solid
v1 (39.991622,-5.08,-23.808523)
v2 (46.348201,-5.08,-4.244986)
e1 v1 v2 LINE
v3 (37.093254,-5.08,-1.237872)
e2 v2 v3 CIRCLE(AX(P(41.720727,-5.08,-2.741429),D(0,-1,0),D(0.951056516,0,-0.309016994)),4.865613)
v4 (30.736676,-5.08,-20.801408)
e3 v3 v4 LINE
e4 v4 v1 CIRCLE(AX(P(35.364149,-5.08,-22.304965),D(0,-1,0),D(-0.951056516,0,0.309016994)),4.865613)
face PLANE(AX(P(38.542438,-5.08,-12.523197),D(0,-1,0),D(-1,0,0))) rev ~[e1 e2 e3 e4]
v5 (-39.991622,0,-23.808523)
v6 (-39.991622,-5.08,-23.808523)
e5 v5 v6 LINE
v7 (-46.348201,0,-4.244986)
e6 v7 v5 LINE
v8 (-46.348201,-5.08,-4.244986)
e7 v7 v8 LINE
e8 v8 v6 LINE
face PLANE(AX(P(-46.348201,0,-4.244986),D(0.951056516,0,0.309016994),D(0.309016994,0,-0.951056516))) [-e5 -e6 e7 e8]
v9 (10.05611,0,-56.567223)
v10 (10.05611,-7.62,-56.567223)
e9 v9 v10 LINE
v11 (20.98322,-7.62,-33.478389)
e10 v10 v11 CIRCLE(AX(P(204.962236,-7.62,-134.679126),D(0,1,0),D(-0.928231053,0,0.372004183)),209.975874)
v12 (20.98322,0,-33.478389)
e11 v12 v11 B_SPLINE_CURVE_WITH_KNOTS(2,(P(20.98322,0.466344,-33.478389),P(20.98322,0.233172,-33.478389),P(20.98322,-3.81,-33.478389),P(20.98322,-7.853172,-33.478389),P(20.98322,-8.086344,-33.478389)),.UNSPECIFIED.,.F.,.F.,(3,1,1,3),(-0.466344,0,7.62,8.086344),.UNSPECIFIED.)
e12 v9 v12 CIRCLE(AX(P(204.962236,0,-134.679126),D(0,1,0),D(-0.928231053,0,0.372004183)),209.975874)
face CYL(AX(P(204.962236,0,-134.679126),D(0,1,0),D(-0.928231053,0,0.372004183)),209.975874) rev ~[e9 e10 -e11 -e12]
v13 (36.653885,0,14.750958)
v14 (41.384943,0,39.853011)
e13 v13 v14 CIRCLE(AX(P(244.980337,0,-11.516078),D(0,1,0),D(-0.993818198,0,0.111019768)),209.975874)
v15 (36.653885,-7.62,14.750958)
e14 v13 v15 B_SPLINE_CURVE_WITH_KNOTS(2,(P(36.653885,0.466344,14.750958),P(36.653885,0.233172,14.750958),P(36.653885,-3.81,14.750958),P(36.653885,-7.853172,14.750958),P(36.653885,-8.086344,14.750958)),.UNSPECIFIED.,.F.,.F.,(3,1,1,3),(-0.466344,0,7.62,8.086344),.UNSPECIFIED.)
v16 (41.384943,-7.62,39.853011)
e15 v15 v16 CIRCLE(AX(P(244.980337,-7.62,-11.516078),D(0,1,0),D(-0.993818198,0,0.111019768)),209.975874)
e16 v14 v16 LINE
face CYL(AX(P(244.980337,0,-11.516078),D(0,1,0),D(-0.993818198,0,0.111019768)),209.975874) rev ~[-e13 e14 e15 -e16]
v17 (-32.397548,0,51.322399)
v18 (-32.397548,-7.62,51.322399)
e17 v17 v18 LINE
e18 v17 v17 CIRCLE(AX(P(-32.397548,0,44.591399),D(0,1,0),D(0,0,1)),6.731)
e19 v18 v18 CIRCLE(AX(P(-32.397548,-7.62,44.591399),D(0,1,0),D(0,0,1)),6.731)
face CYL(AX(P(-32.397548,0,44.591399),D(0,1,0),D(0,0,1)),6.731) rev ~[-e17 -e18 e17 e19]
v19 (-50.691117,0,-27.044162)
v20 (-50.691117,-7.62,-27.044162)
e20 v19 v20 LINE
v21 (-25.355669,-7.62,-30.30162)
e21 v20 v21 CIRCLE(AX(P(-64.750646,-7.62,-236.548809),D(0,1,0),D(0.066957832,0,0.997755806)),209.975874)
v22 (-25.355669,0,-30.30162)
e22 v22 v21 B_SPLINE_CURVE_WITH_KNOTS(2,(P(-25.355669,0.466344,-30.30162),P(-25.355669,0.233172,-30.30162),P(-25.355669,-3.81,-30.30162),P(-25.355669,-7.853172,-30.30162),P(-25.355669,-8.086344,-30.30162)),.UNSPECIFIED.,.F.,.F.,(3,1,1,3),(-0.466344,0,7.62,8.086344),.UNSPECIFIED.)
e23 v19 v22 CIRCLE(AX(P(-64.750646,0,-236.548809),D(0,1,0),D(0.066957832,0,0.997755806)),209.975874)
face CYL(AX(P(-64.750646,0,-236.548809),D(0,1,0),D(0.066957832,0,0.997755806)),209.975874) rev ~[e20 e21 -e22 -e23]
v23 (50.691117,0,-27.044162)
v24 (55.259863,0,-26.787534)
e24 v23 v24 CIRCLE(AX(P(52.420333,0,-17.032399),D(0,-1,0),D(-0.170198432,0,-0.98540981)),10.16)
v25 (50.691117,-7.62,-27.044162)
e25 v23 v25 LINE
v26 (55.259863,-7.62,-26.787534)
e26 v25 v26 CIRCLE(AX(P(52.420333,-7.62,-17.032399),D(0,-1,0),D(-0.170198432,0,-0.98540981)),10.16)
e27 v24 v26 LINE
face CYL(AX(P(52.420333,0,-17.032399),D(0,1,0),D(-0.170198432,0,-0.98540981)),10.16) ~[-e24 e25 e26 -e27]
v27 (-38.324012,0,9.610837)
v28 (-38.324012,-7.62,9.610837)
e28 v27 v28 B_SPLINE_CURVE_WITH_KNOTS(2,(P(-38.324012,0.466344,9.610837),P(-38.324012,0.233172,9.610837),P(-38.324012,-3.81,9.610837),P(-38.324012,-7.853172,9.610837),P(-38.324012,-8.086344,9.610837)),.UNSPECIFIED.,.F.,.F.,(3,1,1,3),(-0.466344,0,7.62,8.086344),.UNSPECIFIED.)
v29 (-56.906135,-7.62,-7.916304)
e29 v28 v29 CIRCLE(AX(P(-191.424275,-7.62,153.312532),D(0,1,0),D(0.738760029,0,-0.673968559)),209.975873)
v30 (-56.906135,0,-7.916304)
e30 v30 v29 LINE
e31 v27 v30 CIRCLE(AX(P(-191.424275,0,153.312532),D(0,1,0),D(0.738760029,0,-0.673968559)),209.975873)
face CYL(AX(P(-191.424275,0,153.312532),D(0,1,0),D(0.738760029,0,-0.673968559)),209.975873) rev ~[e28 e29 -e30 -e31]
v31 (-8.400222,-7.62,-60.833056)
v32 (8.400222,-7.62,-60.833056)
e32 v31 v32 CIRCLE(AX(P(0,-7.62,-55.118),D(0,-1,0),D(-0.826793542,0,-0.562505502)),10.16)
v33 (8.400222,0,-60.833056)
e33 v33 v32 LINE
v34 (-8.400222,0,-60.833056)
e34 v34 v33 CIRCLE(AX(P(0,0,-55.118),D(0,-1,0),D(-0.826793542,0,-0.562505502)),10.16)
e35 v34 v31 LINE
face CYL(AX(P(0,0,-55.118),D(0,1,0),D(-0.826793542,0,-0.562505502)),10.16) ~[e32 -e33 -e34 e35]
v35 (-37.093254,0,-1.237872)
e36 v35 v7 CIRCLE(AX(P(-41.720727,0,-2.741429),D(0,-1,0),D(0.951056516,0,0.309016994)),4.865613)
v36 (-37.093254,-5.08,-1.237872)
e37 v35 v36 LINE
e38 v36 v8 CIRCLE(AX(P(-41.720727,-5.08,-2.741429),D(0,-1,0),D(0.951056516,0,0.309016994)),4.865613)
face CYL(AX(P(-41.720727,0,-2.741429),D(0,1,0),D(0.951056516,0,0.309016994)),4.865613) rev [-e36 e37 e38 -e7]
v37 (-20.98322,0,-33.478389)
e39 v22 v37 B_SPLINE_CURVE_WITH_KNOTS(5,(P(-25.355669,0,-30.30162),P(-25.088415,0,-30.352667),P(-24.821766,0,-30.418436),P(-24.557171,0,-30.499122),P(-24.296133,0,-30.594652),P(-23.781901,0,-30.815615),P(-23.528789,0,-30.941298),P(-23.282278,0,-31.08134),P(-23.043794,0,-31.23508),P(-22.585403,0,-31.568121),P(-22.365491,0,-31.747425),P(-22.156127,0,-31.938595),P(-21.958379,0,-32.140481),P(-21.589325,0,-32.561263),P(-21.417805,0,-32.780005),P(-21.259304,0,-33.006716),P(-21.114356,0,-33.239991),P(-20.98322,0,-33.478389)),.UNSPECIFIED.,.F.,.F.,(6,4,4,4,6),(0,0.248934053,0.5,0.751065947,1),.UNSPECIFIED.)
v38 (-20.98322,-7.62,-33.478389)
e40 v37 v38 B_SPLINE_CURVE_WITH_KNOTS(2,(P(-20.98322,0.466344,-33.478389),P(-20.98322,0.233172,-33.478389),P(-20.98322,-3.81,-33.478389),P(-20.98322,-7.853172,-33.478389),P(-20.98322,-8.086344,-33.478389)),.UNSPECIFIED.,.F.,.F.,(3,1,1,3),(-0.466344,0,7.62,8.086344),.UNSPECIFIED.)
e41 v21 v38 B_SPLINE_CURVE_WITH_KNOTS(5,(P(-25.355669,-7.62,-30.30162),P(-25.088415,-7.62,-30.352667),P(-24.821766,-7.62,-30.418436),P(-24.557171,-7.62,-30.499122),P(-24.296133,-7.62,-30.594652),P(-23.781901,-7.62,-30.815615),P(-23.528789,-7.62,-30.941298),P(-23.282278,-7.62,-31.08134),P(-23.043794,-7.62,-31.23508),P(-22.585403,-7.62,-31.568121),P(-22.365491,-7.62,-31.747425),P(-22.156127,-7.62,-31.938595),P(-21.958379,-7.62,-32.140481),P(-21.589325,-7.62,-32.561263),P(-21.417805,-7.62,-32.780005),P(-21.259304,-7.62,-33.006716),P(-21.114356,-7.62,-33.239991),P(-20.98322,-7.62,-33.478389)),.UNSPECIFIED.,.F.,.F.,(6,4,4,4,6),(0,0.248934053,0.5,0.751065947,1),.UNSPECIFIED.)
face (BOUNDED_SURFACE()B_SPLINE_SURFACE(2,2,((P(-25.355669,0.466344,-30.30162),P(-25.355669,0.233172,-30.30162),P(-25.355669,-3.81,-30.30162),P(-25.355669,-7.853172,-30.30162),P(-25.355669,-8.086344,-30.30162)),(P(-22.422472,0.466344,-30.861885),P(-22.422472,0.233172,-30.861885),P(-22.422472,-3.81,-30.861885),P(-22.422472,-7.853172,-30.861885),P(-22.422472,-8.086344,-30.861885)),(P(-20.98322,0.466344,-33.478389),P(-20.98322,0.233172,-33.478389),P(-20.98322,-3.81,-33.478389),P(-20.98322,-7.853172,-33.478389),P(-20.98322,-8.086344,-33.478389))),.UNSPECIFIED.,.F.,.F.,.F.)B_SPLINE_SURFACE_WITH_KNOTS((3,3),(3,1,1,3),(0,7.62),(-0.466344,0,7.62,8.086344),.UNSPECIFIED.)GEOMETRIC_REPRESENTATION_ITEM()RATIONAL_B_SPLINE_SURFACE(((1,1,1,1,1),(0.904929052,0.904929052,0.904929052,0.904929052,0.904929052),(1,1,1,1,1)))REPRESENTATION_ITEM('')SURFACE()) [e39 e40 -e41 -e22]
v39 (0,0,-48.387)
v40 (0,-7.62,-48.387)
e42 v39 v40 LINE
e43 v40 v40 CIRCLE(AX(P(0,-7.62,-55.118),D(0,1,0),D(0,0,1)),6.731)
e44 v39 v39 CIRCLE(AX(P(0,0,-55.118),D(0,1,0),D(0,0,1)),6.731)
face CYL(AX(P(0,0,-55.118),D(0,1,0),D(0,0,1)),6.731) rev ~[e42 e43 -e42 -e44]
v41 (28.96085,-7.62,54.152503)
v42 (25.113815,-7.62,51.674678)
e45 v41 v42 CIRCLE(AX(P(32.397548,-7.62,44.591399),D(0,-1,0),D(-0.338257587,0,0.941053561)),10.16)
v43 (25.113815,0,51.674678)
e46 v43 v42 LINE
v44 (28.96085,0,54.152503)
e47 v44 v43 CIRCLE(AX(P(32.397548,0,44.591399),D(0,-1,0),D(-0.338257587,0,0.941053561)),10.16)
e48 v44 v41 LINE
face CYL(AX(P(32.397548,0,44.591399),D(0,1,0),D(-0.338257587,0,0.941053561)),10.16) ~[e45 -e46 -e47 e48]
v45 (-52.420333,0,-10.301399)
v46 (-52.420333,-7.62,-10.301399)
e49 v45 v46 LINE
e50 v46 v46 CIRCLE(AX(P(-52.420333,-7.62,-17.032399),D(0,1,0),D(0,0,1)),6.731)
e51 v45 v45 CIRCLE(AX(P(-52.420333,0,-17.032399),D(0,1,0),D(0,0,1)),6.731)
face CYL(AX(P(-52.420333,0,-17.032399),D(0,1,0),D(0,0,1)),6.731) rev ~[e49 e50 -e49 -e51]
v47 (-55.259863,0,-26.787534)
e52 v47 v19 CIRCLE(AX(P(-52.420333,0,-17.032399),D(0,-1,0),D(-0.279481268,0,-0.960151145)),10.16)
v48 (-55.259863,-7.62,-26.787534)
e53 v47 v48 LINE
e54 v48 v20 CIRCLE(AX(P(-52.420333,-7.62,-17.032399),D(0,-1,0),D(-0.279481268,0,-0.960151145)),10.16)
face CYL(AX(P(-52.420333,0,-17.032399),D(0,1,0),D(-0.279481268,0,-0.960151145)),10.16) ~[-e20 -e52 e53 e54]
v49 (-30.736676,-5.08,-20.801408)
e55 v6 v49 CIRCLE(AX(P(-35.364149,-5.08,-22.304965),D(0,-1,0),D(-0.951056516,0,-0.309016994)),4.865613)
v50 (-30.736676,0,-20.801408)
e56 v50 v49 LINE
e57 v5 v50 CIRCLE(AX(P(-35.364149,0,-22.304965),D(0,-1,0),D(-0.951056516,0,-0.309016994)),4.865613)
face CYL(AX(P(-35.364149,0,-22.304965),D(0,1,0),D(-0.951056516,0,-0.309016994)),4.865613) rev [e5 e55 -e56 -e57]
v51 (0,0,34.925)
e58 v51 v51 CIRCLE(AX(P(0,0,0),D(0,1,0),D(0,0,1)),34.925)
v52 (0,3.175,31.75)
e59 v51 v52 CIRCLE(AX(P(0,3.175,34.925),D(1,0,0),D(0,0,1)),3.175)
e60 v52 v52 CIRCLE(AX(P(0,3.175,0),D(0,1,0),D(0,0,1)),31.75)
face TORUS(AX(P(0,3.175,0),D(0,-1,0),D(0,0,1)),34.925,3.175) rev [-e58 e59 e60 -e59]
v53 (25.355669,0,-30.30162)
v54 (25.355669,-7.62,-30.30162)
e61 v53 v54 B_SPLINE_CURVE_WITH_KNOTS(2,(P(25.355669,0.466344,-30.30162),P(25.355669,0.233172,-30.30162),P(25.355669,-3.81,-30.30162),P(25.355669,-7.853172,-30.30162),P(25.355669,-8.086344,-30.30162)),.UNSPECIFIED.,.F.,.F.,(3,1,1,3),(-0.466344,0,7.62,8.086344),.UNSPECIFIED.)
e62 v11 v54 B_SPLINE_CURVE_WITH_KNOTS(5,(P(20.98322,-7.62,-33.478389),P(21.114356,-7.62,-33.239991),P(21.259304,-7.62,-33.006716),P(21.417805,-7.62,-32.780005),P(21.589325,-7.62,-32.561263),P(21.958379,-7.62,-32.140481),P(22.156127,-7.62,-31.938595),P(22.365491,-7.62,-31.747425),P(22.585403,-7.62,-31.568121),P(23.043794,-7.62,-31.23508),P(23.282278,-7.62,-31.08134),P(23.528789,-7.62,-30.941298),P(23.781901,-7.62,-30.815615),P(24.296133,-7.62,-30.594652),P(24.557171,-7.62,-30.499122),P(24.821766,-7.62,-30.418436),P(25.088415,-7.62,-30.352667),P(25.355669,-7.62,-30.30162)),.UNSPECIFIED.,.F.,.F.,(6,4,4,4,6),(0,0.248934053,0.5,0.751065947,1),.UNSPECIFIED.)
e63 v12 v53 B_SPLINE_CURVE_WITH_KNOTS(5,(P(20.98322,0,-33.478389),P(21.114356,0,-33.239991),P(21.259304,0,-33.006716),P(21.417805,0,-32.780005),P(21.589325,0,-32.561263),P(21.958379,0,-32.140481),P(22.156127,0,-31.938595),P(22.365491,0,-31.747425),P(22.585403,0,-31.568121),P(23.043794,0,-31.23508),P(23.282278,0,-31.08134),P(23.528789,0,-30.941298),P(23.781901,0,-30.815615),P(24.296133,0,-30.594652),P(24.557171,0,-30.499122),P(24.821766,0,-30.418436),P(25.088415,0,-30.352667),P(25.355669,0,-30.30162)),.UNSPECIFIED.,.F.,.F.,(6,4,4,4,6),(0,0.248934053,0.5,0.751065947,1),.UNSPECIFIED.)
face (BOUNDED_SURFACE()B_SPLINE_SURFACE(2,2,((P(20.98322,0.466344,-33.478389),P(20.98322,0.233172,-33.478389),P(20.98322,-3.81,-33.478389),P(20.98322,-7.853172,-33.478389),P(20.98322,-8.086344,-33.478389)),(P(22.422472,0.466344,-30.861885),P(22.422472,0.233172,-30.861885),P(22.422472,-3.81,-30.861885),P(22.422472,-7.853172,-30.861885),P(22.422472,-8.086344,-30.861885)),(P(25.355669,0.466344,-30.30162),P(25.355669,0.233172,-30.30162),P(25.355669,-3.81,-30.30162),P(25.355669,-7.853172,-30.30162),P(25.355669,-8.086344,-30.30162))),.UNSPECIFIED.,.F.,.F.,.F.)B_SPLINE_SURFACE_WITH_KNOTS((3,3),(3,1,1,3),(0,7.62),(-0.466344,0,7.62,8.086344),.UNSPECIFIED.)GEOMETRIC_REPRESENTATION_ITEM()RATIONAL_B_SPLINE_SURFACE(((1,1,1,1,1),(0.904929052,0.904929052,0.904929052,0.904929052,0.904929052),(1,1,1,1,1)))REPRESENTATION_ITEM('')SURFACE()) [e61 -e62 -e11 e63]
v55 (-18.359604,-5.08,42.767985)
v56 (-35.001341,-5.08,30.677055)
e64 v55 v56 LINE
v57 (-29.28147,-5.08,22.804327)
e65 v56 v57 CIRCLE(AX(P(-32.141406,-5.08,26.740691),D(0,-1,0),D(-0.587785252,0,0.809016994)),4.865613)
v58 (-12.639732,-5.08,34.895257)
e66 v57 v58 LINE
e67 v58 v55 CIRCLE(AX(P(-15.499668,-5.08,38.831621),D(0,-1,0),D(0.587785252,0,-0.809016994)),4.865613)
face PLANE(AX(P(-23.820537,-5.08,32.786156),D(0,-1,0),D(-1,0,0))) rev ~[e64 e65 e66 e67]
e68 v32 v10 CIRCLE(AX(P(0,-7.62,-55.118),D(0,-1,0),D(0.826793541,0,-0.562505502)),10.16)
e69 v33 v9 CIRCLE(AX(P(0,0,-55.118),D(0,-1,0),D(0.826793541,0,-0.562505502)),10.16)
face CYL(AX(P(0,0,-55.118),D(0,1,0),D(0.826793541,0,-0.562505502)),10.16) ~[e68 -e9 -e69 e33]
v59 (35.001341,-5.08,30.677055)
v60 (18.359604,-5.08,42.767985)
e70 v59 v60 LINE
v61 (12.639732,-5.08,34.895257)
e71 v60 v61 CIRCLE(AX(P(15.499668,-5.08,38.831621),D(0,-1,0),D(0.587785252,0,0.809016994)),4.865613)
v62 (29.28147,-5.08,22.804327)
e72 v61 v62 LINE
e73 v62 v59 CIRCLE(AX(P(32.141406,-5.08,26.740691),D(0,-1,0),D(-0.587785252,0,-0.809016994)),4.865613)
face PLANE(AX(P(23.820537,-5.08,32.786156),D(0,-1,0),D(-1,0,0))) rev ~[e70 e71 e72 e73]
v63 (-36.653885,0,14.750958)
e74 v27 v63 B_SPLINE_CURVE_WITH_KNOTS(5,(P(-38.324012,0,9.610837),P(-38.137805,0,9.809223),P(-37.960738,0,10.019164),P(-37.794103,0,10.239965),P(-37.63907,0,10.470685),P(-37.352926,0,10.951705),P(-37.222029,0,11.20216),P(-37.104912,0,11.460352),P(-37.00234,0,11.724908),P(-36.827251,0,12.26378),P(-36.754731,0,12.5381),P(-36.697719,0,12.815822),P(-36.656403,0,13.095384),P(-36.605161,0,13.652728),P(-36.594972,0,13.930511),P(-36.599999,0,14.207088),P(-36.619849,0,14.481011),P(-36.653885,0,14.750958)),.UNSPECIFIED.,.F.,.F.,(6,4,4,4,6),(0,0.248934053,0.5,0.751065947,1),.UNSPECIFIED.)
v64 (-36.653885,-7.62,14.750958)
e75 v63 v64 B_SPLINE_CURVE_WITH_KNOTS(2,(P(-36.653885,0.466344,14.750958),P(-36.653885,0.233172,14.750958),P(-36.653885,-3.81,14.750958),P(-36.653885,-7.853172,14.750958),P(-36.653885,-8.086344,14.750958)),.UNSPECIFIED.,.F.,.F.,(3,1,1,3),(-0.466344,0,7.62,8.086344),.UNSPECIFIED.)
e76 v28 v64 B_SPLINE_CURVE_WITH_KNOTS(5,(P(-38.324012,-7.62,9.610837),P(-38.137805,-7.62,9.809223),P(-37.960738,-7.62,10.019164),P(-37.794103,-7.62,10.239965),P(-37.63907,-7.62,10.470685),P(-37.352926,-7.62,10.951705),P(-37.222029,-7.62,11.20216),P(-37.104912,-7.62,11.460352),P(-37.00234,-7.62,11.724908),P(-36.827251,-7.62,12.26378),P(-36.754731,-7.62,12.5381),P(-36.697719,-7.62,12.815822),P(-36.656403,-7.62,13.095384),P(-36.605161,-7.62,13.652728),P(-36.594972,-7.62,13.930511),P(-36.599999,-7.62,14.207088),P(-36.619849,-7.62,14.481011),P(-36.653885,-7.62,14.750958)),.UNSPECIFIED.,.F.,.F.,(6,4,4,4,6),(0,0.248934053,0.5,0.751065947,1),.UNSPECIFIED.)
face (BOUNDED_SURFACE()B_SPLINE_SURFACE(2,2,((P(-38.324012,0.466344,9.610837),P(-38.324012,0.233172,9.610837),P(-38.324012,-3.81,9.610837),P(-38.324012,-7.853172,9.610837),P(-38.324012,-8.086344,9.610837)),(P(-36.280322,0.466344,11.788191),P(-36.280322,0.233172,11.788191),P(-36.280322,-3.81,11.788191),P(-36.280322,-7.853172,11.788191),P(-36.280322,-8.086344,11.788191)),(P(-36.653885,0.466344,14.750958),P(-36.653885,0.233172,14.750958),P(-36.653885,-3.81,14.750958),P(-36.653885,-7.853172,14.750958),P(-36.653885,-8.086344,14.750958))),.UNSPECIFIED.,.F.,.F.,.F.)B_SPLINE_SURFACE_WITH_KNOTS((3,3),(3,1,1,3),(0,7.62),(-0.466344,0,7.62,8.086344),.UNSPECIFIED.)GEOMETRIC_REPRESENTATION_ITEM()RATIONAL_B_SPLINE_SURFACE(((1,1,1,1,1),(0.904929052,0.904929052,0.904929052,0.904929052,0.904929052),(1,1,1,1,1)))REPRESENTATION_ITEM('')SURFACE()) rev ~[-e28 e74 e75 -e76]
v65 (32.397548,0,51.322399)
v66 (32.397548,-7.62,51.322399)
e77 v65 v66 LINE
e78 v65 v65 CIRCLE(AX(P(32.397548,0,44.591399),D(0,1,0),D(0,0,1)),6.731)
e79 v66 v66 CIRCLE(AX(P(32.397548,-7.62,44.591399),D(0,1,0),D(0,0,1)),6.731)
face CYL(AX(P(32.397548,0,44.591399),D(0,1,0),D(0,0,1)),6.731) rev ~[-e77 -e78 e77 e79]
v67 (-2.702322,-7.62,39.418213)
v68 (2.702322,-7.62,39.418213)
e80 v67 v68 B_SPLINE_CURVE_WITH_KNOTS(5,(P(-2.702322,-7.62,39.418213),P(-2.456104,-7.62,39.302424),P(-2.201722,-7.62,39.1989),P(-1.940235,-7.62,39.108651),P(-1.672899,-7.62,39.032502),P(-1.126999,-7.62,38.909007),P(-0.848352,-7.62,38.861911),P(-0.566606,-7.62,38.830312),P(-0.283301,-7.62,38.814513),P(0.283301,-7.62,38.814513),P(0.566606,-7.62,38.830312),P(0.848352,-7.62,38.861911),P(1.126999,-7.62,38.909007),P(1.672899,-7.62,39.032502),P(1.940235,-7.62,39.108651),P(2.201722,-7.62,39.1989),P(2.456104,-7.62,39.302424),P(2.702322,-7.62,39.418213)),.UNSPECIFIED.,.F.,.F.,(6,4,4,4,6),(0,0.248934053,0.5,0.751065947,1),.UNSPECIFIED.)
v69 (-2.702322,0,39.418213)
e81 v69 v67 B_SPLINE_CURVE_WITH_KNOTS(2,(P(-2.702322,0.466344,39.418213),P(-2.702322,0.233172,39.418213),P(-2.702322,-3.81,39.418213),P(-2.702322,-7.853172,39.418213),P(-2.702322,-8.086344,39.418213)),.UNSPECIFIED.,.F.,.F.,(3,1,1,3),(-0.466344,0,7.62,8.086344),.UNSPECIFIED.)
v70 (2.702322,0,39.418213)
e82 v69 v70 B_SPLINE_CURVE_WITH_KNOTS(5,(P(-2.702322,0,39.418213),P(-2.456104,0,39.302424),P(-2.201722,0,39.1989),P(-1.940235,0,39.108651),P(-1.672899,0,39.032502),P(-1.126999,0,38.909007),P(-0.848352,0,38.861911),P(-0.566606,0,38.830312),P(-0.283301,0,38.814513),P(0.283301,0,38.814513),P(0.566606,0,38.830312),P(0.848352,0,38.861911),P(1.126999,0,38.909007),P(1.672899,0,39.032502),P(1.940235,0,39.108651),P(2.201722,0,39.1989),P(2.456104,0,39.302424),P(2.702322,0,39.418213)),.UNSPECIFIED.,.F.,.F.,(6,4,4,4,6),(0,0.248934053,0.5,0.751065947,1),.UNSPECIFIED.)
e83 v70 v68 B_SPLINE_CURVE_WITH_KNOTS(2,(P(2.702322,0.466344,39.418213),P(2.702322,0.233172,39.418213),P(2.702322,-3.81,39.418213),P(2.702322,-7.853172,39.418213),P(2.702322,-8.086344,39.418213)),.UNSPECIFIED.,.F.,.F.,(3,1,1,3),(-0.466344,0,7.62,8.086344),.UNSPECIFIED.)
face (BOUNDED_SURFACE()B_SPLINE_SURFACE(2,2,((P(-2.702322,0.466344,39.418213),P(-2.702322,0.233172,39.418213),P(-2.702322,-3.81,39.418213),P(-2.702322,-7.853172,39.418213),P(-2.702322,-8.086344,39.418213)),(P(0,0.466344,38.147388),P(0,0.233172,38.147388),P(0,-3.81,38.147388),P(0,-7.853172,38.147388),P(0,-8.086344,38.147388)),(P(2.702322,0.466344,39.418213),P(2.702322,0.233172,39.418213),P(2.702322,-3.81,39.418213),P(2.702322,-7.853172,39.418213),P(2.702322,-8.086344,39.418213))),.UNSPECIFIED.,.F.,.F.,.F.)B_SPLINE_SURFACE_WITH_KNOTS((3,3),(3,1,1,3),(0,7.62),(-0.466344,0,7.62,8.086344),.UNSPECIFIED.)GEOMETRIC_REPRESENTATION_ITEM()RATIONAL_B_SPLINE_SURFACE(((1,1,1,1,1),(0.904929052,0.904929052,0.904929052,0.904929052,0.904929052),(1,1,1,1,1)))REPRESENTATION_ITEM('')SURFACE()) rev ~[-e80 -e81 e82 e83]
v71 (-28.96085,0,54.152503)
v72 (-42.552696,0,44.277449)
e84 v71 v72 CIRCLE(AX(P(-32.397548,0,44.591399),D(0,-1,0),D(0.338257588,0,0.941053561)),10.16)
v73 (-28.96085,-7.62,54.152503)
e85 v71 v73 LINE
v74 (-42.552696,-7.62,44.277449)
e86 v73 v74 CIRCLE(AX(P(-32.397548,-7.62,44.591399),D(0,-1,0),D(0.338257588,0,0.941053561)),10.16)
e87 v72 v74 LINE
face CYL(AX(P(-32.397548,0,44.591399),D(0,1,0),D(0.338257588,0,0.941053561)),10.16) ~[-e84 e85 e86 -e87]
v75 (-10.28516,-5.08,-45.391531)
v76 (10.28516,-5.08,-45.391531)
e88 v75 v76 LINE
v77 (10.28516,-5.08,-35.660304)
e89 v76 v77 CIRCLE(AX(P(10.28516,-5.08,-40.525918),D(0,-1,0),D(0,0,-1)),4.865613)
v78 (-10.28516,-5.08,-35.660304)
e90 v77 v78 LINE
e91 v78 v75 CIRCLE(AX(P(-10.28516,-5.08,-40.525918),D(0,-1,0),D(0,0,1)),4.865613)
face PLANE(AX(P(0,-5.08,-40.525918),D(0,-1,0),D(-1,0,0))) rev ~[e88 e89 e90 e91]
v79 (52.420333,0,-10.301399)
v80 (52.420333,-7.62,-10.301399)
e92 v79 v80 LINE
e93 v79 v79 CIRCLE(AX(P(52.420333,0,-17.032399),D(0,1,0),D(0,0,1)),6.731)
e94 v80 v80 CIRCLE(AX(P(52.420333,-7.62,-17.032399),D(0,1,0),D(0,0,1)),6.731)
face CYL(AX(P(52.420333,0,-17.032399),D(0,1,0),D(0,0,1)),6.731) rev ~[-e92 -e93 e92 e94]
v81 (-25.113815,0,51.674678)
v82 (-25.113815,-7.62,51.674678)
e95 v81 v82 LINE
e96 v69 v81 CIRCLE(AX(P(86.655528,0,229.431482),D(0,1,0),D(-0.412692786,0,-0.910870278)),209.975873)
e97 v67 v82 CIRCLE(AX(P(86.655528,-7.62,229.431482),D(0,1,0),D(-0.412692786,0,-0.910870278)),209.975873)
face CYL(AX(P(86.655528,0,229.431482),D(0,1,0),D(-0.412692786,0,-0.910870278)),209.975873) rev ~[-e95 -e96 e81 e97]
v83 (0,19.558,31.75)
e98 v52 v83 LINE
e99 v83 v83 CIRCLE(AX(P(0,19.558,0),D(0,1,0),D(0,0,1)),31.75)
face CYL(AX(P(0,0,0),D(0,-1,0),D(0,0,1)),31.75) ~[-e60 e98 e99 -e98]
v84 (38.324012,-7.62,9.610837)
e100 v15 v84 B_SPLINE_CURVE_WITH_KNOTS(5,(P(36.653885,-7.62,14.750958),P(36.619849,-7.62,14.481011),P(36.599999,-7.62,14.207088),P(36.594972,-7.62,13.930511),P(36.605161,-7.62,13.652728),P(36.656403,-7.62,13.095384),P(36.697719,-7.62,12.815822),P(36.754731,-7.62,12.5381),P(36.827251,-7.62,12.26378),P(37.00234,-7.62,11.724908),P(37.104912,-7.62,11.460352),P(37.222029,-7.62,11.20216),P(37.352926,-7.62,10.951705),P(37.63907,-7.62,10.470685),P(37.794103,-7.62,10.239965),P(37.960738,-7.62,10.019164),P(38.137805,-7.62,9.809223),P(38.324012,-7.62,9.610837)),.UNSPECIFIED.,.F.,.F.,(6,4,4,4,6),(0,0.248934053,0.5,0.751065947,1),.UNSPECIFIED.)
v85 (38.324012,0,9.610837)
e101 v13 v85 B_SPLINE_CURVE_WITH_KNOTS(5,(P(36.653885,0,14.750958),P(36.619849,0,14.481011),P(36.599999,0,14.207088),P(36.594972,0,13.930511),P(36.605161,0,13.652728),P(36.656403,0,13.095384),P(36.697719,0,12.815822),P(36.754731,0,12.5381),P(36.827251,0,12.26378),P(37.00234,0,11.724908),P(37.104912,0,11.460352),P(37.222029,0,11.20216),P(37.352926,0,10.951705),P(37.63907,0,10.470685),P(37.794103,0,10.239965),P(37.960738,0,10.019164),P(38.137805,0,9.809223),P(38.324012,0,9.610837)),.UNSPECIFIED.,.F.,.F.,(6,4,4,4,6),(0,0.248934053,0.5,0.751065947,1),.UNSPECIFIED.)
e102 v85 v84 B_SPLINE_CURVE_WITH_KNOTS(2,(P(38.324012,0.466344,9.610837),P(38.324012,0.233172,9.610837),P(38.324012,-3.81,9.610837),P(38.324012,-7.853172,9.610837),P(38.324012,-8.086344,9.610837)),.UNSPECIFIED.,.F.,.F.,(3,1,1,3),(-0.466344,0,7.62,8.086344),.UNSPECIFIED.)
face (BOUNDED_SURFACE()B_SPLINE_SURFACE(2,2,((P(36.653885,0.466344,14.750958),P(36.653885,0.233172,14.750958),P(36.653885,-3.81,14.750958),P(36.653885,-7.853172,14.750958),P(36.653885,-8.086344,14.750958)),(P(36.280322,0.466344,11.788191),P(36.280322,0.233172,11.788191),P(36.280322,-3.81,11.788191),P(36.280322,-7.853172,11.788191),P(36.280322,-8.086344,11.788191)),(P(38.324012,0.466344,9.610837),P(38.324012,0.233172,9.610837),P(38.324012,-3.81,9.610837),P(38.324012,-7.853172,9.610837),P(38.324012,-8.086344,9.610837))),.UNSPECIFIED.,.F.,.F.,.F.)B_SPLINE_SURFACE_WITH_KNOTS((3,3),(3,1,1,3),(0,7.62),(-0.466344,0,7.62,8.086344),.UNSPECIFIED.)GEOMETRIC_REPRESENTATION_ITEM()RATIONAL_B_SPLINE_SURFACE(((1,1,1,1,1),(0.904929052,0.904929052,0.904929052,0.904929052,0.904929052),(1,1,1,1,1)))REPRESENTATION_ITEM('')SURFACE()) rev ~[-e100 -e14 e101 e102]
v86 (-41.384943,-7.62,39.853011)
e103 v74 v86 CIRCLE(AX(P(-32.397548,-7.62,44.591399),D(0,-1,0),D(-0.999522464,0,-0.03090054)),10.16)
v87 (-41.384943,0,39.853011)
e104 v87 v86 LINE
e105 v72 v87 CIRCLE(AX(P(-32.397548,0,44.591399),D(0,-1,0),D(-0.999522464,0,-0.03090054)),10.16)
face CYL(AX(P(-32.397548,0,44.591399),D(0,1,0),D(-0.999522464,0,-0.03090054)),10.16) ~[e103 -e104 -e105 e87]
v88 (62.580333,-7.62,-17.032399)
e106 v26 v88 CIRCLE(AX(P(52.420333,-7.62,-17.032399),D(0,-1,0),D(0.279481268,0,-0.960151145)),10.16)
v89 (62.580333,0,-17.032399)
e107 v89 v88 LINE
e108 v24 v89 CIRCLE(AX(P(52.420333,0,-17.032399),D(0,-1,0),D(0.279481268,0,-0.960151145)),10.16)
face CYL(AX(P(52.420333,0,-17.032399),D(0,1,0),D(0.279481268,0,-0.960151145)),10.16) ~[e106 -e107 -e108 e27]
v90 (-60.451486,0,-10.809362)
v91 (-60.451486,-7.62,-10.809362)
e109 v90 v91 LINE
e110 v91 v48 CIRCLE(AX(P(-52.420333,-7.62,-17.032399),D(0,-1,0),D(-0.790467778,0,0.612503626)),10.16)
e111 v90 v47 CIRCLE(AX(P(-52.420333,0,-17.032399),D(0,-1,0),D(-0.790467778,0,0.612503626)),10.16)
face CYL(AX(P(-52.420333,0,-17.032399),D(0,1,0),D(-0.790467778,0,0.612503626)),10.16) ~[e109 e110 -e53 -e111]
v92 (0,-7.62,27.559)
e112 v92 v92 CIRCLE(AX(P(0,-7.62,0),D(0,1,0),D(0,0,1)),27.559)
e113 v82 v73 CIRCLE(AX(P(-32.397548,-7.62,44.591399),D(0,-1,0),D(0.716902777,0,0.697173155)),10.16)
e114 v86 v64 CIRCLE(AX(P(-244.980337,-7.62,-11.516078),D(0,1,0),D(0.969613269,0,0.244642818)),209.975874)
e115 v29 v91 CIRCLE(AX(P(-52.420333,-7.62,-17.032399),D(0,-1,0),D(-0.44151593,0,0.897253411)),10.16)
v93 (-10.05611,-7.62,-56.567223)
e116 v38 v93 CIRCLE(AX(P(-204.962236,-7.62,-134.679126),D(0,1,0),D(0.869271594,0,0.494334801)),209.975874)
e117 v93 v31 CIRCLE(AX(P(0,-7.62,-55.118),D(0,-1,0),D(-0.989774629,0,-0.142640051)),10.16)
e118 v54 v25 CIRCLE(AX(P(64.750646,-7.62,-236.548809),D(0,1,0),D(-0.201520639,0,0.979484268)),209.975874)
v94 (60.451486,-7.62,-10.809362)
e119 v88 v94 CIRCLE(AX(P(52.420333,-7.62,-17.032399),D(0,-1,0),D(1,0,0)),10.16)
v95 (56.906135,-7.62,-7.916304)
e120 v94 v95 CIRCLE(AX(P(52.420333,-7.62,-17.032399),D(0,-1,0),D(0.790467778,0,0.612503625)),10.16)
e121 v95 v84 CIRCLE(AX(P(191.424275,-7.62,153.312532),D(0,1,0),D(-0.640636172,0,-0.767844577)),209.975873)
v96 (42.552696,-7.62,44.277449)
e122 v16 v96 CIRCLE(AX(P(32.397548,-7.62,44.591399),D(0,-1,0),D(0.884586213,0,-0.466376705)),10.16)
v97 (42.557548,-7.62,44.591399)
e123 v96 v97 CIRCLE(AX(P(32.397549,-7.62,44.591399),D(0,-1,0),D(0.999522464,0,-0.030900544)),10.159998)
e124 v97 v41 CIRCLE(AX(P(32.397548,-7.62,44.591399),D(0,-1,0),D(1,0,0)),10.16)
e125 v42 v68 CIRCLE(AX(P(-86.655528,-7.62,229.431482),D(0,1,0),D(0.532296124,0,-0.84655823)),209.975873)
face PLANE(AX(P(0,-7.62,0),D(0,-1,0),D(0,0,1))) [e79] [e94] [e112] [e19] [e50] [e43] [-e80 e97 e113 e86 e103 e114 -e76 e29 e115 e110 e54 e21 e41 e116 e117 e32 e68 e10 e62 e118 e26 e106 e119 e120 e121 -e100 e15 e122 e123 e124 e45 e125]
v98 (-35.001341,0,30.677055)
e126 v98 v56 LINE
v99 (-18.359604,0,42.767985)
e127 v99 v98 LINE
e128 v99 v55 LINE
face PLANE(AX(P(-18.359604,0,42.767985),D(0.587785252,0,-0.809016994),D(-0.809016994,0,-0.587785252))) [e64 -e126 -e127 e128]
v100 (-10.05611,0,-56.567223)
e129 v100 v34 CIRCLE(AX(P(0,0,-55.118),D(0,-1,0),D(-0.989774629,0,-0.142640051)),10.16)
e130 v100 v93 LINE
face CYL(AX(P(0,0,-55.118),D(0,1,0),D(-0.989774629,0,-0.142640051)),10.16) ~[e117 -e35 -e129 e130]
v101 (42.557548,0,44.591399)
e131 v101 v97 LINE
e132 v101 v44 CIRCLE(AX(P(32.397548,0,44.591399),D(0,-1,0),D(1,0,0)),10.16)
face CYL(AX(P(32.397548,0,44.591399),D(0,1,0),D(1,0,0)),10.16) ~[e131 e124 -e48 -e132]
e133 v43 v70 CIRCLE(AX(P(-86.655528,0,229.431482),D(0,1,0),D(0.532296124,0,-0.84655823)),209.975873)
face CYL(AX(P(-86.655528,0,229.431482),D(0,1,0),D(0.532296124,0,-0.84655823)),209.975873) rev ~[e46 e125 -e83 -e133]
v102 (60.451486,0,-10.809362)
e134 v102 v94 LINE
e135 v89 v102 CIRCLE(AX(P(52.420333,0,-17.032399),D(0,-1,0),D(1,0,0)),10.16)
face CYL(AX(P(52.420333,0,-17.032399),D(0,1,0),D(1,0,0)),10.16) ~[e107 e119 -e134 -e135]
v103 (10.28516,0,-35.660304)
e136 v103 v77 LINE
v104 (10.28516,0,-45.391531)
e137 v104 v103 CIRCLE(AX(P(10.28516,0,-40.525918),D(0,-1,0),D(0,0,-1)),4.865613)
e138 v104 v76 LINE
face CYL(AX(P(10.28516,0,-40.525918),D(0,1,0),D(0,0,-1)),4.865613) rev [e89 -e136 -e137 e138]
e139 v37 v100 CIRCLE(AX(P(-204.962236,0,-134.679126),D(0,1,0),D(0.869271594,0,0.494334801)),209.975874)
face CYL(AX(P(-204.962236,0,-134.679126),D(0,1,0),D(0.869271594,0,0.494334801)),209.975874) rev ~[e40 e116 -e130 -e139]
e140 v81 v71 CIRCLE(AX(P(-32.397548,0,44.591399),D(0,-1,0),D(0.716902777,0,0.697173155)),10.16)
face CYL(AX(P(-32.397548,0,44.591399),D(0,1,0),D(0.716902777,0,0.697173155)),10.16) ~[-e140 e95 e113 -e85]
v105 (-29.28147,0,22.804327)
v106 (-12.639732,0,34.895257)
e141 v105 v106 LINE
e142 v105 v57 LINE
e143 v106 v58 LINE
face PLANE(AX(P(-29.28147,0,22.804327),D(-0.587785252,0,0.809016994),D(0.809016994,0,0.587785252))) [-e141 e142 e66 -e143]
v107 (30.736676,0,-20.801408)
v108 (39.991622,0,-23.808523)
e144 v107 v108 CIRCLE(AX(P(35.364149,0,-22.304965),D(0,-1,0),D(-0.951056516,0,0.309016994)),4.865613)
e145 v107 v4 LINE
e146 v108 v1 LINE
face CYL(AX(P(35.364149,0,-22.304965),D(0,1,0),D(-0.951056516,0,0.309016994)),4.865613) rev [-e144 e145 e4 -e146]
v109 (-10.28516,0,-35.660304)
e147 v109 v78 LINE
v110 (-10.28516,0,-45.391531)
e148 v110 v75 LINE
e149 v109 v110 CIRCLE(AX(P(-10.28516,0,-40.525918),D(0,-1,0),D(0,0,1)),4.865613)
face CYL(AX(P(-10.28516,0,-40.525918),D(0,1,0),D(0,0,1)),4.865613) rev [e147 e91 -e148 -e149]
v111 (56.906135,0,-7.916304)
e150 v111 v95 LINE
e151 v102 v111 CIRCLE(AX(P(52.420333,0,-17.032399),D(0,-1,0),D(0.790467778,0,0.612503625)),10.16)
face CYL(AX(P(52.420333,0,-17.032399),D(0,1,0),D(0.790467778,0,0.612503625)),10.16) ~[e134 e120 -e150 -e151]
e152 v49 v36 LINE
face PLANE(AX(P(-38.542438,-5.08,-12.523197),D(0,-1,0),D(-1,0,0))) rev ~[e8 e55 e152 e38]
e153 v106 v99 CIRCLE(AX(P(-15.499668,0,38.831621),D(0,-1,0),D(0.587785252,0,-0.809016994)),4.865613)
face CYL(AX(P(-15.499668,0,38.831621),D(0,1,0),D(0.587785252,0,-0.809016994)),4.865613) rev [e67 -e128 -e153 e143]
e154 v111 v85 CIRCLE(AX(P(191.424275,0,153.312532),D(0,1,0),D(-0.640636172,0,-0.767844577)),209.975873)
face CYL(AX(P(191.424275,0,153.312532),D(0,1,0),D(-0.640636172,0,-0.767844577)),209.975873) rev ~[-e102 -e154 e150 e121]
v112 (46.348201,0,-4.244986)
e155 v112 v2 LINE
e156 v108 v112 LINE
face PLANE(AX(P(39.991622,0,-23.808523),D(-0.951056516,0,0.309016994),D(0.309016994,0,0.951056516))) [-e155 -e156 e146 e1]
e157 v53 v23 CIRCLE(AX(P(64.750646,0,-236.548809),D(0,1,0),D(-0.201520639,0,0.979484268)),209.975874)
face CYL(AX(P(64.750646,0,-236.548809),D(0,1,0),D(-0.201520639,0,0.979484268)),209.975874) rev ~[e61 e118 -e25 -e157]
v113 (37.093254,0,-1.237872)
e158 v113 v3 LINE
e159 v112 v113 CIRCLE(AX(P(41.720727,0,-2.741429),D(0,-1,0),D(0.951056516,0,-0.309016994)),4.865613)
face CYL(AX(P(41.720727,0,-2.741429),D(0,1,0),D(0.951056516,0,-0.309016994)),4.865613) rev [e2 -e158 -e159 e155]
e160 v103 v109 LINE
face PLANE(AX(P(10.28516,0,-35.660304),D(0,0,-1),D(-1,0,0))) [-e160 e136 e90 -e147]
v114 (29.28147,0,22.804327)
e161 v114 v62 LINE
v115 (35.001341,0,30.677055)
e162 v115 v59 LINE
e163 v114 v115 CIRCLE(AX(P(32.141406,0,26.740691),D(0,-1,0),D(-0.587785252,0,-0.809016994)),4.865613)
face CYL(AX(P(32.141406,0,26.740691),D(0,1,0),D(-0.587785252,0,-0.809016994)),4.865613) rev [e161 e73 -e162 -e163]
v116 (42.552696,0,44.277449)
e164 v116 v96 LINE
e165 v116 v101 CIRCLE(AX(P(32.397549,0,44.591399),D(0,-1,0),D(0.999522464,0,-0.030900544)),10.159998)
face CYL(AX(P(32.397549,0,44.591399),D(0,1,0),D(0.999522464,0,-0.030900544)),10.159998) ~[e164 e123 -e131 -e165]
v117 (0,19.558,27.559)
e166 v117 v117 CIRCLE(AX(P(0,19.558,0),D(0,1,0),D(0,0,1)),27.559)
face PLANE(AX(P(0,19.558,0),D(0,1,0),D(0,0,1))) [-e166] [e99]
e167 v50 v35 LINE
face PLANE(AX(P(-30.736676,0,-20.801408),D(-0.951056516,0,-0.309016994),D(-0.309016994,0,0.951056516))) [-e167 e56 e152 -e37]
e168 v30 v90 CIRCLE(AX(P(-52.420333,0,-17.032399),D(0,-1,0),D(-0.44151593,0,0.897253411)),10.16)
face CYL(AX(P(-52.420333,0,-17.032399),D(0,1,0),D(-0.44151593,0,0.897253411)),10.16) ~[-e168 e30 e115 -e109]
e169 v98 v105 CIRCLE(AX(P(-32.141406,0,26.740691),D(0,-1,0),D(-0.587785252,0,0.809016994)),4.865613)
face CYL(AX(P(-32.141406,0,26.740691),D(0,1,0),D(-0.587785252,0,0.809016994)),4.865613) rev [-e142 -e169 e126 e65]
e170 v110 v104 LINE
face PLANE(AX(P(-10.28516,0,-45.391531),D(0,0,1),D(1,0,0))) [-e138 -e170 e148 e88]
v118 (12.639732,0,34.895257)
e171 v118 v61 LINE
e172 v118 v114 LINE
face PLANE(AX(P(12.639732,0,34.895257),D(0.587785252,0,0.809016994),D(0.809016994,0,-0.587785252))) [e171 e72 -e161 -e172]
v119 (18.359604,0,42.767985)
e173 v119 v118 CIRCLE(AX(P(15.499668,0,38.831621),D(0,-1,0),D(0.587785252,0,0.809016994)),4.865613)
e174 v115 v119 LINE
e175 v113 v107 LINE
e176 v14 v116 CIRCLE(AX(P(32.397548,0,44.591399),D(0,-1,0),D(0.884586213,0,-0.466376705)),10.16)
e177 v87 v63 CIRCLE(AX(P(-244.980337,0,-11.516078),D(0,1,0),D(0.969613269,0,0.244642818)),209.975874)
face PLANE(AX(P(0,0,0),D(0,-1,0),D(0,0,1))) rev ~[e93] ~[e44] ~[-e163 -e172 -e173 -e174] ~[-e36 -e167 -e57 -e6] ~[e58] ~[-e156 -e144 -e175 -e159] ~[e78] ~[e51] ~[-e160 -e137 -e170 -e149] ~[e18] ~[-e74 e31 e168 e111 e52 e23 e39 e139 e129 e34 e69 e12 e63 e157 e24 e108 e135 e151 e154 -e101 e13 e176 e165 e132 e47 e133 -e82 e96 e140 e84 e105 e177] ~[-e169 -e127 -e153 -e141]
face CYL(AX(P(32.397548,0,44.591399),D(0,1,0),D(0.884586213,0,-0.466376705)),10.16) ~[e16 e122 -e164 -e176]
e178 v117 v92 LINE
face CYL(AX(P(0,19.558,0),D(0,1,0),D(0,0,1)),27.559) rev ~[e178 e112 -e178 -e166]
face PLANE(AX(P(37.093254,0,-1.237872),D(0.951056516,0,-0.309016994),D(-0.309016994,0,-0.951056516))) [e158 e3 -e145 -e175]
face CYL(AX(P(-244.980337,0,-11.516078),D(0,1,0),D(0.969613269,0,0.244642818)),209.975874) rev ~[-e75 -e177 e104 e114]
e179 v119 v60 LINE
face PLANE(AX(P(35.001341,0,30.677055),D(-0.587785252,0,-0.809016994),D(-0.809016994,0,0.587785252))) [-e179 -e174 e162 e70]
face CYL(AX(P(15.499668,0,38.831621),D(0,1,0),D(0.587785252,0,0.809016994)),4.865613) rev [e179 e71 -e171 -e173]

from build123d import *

# Parameters (mm, degrees)
SKETCH1_R                 = 31.75
CENTERCIRCLEEXTRUDE_DEPTH = 19.558
SKETCH2_R                 = 80.01
BASEEXPAND_DEPTH          = 7.62
FILLET15_R                = 3.175
SKETCH3_R                 = 27.559
CENTERCUT_DEPTH           = 27.178
SKETCH4_R                 = 6.731
OUTERCIRCLECUT_DEPTH      = 7.62
SKETCH8_R                 = 80.01
STARFISHCUT_DEPTH         = 7.62
BATMAN_CUT_DEPTH          = 5.08
FILLET12_R                = 6.35


with BuildPart() as part:
    # Sketch1 → CenterCircleExtrude (new body)
    with BuildSketch(Plane(origin=(0, 0, 0), x_dir=(1, 0, 0), z_dir=(0, 1, 0))):
        Circle(SKETCH1_R)
    extrude(amount=CENTERCIRCLEEXTRUDE_DEPTH)

    # Sketch2 → BaseExpand (add)
    with BuildSketch(Plane.XZ):
        Circle(SKETCH2_R)
    extrude(amount=BASEEXPAND_DEPTH)

    # Fillet15
    fillet15_edges = [part.edges().sort_by_distance(p)[0] for p in [
        (-31.75, 0, 0),
    ]]
    fillet(fillet15_edges, radius=FILLET15_R)

    # Sketch3 → CenterCut (cut)
    with BuildSketch(Plane(origin=(0, 19.558, 0), x_dir=(1, 0, 0), z_dir=(0, 1, 0))):
        Circle(SKETCH3_R)
    extrude(amount=-CENTERCUT_DEPTH, mode=Mode.SUBTRACT)

    # Sketch4 → OuterCircleCut (cut)
    with BuildSketch(Plane(origin=(0, 0, 0), x_dir=(1, 0, 0), z_dir=(0, 1, 0))):
        with Locations((0, 55.118)):
            Circle(SKETCH4_R)
        with Locations((52.420333065, 17.032398696)):
            Circle(SKETCH4_R)
        with Locations((32.397547536, -44.591398696)):
            Circle(SKETCH4_R)
        with Locations((-32.397547536, -44.591398696)):
            Circle(SKETCH4_R)
        with Locations((-52.420333065, 17.032398696)):
            Circle(SKETCH4_R)
    extrude(amount=-OUTERCIRCLECUT_DEPTH, mode=Mode.SUBTRACT)

    # Sketch8 → StarfishCut (cut)
    with BuildSketch(Plane(origin=(0, 0, 0), x_dir=(1, 0, 0), z_dir=(0, 1, 0))):
        Circle(SKETCH8_R)
        with BuildLine():
            ThreePointArc((-60.451485692, 10.809361858), (-62.083067271, 20.172011359), (-55.259862746, 26.787534327))
            ThreePointArc((-55.259862746, 26.787534327), (-52.990125634, 27.176408575), (-50.691117004, 27.044162367))
            ThreePointArc((-50.691117004, 27.044162367), (-36.498445494, 28.482280038), (-22.436174146, 30.88074446))
            ThreePointArc((-22.436174146, 30.88074446), (-15.809618103, 43.513592992), (-10.056110229, 56.567222915))
            ThreePointArc((-10.056110229, 56.567222915), (-9.47145111, 58.794576379), (-8.400222382, 60.833055899))
            ThreePointArc((-8.400222382, 60.833055899), (0, 65.278), (8.400222382, 60.833055899))
            ThreePointArc((8.400222382, 60.833055899), (9.47145111, 58.794576379), (10.056110229, 56.567222915))
            ThreePointArc((10.056110229, 56.567222915), (15.809618103, 43.513592992), (22.436174146, 30.88074446))
            ThreePointArc((22.436174146, 30.88074446), (36.498445494, 28.482280038), (50.691117004, 27.044162367))
            ThreePointArc((50.691117004, 27.044162367), (52.990125634, 27.176408575), (55.259862746, 26.787534327))
            ThreePointArc((55.259862746, 26.787534327), (60.546685924, 23.130594267), (62.580333065, 17.032398696))
            ThreePointArc((62.580333065, 17.032398696), (62.033399971, 13.743851196), (60.451485692, 10.809361858))
            ThreePointArc((60.451485692, 10.809361858), (58.843804343, 9.160637981), (56.90613492, 7.916304043))
            ThreePointArc((56.90613492, 7.916304043), (46.26932683, -1.589400596), (36.302492346, -11.795394786))
            ThreePointArc((36.302492346, -11.795394786), (38.366897955, -25.910575851), (41.384943465, -39.853011375))
            ThreePointArc((41.384943465, -39.853011375), (42.22114982, -41.998632188), (42.552695773, -44.27744921))
            ThreePointArc((42.552695773, -44.27744921), (42.556334523, -44.434405209), (42.557547536, -44.591398696))
            ThreePointArc((42.557547536, -44.591398696), (38.241722309, -52.902308467), (28.960850446, -54.152502874))
            ThreePointArc((28.960850446, -54.152502874), (26.896020001, -53.132990748), (25.11381532, -51.674677951))
            ThreePointArc((25.11381532, -51.674677951), (12.786398515, -44.495896582), (0, -38.170699348))
            ThreePointArc((0, -38.170699348), (-12.786398515, -44.495896582), (-25.11381532, -51.674677951))
            ThreePointArc((-25.11381532, -51.674677951), (-26.896020001, -53.132990748), (-28.960850446, -54.152502874))
            ThreePointArc((-28.960850446, -54.152502874), (-38.369445699, -52.811011359), (-42.552695773, -44.27744921))
            ThreePointArc((-42.552695773, -44.27744921), (-42.22114982, -41.998632188), (-41.384943465, -39.853011375))
            ThreePointArc((-41.384943465, -39.853011375), (-38.366897955, -25.910575851), (-36.302492346, -11.795394786))
            ThreePointArc((-36.302492346, -11.795394786), (-46.26932683, -1.589400596), (-56.90613492, 7.916304043))
            ThreePointArc((-56.90613492, 7.916304043), (-58.843804343, 9.160637981), (-60.451485692, 10.809361858))
        make_face(mode=Mode.SUBTRACT)
    extrude(amount=-STARFISHCUT_DEPTH, mode=Mode.SUBTRACT)

    # Sketch14 → Batman Cut (cut)
    with BuildSketch(Plane(origin=(0, 0, 0), x_dir=(1, 0, 0), z_dir=(0, 1, 0))):
        with BuildLine():
            Line((-29.28146985, -22.804327102), (-12.639732086, -34.895257327))
            ThreePointArc((-12.639732086, -34.895257327), (-11.563303962, -41.691557027), (-18.359603662, -42.767985152))
            Line((-18.359603662, -42.767985152), (-35.001341426, -30.677054926))
            ThreePointArc((-35.001341426, -30.677054926), (-36.07776955, -23.880755226), (-29.28146985, -22.804327102))
        make_face()
        with BuildLine():
            Line((-30.736675694, 20.801408088), (-37.093253888, 1.237872028))
            ThreePointArc((-37.093253888, 1.237872028), (-43.224284421, -1.88604406), (-46.348200509, 4.244986472))
            Line((-46.348200509, 4.244986472), (-39.991622315, 23.808522532))
            ThreePointArc((-39.991622315, 23.808522532), (-33.860591782, 26.93243862), (-30.736675694, 20.801408088))
        make_face()
        with BuildLine():
            Line((10.28515957, 35.660304314), (-10.28515957, 35.660304314))
            ThreePointArc((-10.28515957, 35.660304314), (-15.150772949, 40.525917694), (-10.28515957, 45.391531073))
            Line((-10.28515957, 45.391531073), (10.28515957, 45.391531073))
            ThreePointArc((10.28515957, 45.391531073), (15.150772949, 40.525917694), (10.28515957, 35.660304314))
        make_face()
        with BuildLine():
            Line((37.093253888, 1.237872028), (30.736675694, 20.801408088))
            ThreePointArc((30.736675694, 20.801408088), (33.860591782, 26.93243862), (39.991622315, 23.808522532))
            Line((39.991622315, 23.808522532), (46.348200509, 4.244986472))
            ThreePointArc((46.348200509, 4.244986472), (43.224284421, -1.88604406), (37.093253888, 1.237872028))
        make_face()
        with BuildLine():
            Line((12.639732086, -34.895257327), (29.28146985, -22.804327102))
            ThreePointArc((29.28146985, -22.804327102), (36.07776955, -23.880755226), (35.001341426, -30.677054926))
            Line((35.001341426, -30.677054926), (18.359603662, -42.767985152))
            ThreePointArc((18.359603662, -42.767985152), (11.563303962, -41.691557027), (12.639732086, -34.895257327))
        make_face()
    extrude(amount=-BATMAN_CUT_DEPTH, mode=Mode.SUBTRACT)

    # Fillet12
    fillet12_edges = [part.edges().sort_by_distance(p)[0] for p in [
        (-36.302492346, -3.81, 11.795394786),
        (0, -3.81, 38.170699348),
        (36.302492346, -3.81, 11.795394786),
        (22.436174146, -3.81, -30.88074446),
        (-22.436174146, -3.81, -30.88074446),
    ]]
    fillet(fillet12_edges, radius=FILLET12_R)


solid = part.part
